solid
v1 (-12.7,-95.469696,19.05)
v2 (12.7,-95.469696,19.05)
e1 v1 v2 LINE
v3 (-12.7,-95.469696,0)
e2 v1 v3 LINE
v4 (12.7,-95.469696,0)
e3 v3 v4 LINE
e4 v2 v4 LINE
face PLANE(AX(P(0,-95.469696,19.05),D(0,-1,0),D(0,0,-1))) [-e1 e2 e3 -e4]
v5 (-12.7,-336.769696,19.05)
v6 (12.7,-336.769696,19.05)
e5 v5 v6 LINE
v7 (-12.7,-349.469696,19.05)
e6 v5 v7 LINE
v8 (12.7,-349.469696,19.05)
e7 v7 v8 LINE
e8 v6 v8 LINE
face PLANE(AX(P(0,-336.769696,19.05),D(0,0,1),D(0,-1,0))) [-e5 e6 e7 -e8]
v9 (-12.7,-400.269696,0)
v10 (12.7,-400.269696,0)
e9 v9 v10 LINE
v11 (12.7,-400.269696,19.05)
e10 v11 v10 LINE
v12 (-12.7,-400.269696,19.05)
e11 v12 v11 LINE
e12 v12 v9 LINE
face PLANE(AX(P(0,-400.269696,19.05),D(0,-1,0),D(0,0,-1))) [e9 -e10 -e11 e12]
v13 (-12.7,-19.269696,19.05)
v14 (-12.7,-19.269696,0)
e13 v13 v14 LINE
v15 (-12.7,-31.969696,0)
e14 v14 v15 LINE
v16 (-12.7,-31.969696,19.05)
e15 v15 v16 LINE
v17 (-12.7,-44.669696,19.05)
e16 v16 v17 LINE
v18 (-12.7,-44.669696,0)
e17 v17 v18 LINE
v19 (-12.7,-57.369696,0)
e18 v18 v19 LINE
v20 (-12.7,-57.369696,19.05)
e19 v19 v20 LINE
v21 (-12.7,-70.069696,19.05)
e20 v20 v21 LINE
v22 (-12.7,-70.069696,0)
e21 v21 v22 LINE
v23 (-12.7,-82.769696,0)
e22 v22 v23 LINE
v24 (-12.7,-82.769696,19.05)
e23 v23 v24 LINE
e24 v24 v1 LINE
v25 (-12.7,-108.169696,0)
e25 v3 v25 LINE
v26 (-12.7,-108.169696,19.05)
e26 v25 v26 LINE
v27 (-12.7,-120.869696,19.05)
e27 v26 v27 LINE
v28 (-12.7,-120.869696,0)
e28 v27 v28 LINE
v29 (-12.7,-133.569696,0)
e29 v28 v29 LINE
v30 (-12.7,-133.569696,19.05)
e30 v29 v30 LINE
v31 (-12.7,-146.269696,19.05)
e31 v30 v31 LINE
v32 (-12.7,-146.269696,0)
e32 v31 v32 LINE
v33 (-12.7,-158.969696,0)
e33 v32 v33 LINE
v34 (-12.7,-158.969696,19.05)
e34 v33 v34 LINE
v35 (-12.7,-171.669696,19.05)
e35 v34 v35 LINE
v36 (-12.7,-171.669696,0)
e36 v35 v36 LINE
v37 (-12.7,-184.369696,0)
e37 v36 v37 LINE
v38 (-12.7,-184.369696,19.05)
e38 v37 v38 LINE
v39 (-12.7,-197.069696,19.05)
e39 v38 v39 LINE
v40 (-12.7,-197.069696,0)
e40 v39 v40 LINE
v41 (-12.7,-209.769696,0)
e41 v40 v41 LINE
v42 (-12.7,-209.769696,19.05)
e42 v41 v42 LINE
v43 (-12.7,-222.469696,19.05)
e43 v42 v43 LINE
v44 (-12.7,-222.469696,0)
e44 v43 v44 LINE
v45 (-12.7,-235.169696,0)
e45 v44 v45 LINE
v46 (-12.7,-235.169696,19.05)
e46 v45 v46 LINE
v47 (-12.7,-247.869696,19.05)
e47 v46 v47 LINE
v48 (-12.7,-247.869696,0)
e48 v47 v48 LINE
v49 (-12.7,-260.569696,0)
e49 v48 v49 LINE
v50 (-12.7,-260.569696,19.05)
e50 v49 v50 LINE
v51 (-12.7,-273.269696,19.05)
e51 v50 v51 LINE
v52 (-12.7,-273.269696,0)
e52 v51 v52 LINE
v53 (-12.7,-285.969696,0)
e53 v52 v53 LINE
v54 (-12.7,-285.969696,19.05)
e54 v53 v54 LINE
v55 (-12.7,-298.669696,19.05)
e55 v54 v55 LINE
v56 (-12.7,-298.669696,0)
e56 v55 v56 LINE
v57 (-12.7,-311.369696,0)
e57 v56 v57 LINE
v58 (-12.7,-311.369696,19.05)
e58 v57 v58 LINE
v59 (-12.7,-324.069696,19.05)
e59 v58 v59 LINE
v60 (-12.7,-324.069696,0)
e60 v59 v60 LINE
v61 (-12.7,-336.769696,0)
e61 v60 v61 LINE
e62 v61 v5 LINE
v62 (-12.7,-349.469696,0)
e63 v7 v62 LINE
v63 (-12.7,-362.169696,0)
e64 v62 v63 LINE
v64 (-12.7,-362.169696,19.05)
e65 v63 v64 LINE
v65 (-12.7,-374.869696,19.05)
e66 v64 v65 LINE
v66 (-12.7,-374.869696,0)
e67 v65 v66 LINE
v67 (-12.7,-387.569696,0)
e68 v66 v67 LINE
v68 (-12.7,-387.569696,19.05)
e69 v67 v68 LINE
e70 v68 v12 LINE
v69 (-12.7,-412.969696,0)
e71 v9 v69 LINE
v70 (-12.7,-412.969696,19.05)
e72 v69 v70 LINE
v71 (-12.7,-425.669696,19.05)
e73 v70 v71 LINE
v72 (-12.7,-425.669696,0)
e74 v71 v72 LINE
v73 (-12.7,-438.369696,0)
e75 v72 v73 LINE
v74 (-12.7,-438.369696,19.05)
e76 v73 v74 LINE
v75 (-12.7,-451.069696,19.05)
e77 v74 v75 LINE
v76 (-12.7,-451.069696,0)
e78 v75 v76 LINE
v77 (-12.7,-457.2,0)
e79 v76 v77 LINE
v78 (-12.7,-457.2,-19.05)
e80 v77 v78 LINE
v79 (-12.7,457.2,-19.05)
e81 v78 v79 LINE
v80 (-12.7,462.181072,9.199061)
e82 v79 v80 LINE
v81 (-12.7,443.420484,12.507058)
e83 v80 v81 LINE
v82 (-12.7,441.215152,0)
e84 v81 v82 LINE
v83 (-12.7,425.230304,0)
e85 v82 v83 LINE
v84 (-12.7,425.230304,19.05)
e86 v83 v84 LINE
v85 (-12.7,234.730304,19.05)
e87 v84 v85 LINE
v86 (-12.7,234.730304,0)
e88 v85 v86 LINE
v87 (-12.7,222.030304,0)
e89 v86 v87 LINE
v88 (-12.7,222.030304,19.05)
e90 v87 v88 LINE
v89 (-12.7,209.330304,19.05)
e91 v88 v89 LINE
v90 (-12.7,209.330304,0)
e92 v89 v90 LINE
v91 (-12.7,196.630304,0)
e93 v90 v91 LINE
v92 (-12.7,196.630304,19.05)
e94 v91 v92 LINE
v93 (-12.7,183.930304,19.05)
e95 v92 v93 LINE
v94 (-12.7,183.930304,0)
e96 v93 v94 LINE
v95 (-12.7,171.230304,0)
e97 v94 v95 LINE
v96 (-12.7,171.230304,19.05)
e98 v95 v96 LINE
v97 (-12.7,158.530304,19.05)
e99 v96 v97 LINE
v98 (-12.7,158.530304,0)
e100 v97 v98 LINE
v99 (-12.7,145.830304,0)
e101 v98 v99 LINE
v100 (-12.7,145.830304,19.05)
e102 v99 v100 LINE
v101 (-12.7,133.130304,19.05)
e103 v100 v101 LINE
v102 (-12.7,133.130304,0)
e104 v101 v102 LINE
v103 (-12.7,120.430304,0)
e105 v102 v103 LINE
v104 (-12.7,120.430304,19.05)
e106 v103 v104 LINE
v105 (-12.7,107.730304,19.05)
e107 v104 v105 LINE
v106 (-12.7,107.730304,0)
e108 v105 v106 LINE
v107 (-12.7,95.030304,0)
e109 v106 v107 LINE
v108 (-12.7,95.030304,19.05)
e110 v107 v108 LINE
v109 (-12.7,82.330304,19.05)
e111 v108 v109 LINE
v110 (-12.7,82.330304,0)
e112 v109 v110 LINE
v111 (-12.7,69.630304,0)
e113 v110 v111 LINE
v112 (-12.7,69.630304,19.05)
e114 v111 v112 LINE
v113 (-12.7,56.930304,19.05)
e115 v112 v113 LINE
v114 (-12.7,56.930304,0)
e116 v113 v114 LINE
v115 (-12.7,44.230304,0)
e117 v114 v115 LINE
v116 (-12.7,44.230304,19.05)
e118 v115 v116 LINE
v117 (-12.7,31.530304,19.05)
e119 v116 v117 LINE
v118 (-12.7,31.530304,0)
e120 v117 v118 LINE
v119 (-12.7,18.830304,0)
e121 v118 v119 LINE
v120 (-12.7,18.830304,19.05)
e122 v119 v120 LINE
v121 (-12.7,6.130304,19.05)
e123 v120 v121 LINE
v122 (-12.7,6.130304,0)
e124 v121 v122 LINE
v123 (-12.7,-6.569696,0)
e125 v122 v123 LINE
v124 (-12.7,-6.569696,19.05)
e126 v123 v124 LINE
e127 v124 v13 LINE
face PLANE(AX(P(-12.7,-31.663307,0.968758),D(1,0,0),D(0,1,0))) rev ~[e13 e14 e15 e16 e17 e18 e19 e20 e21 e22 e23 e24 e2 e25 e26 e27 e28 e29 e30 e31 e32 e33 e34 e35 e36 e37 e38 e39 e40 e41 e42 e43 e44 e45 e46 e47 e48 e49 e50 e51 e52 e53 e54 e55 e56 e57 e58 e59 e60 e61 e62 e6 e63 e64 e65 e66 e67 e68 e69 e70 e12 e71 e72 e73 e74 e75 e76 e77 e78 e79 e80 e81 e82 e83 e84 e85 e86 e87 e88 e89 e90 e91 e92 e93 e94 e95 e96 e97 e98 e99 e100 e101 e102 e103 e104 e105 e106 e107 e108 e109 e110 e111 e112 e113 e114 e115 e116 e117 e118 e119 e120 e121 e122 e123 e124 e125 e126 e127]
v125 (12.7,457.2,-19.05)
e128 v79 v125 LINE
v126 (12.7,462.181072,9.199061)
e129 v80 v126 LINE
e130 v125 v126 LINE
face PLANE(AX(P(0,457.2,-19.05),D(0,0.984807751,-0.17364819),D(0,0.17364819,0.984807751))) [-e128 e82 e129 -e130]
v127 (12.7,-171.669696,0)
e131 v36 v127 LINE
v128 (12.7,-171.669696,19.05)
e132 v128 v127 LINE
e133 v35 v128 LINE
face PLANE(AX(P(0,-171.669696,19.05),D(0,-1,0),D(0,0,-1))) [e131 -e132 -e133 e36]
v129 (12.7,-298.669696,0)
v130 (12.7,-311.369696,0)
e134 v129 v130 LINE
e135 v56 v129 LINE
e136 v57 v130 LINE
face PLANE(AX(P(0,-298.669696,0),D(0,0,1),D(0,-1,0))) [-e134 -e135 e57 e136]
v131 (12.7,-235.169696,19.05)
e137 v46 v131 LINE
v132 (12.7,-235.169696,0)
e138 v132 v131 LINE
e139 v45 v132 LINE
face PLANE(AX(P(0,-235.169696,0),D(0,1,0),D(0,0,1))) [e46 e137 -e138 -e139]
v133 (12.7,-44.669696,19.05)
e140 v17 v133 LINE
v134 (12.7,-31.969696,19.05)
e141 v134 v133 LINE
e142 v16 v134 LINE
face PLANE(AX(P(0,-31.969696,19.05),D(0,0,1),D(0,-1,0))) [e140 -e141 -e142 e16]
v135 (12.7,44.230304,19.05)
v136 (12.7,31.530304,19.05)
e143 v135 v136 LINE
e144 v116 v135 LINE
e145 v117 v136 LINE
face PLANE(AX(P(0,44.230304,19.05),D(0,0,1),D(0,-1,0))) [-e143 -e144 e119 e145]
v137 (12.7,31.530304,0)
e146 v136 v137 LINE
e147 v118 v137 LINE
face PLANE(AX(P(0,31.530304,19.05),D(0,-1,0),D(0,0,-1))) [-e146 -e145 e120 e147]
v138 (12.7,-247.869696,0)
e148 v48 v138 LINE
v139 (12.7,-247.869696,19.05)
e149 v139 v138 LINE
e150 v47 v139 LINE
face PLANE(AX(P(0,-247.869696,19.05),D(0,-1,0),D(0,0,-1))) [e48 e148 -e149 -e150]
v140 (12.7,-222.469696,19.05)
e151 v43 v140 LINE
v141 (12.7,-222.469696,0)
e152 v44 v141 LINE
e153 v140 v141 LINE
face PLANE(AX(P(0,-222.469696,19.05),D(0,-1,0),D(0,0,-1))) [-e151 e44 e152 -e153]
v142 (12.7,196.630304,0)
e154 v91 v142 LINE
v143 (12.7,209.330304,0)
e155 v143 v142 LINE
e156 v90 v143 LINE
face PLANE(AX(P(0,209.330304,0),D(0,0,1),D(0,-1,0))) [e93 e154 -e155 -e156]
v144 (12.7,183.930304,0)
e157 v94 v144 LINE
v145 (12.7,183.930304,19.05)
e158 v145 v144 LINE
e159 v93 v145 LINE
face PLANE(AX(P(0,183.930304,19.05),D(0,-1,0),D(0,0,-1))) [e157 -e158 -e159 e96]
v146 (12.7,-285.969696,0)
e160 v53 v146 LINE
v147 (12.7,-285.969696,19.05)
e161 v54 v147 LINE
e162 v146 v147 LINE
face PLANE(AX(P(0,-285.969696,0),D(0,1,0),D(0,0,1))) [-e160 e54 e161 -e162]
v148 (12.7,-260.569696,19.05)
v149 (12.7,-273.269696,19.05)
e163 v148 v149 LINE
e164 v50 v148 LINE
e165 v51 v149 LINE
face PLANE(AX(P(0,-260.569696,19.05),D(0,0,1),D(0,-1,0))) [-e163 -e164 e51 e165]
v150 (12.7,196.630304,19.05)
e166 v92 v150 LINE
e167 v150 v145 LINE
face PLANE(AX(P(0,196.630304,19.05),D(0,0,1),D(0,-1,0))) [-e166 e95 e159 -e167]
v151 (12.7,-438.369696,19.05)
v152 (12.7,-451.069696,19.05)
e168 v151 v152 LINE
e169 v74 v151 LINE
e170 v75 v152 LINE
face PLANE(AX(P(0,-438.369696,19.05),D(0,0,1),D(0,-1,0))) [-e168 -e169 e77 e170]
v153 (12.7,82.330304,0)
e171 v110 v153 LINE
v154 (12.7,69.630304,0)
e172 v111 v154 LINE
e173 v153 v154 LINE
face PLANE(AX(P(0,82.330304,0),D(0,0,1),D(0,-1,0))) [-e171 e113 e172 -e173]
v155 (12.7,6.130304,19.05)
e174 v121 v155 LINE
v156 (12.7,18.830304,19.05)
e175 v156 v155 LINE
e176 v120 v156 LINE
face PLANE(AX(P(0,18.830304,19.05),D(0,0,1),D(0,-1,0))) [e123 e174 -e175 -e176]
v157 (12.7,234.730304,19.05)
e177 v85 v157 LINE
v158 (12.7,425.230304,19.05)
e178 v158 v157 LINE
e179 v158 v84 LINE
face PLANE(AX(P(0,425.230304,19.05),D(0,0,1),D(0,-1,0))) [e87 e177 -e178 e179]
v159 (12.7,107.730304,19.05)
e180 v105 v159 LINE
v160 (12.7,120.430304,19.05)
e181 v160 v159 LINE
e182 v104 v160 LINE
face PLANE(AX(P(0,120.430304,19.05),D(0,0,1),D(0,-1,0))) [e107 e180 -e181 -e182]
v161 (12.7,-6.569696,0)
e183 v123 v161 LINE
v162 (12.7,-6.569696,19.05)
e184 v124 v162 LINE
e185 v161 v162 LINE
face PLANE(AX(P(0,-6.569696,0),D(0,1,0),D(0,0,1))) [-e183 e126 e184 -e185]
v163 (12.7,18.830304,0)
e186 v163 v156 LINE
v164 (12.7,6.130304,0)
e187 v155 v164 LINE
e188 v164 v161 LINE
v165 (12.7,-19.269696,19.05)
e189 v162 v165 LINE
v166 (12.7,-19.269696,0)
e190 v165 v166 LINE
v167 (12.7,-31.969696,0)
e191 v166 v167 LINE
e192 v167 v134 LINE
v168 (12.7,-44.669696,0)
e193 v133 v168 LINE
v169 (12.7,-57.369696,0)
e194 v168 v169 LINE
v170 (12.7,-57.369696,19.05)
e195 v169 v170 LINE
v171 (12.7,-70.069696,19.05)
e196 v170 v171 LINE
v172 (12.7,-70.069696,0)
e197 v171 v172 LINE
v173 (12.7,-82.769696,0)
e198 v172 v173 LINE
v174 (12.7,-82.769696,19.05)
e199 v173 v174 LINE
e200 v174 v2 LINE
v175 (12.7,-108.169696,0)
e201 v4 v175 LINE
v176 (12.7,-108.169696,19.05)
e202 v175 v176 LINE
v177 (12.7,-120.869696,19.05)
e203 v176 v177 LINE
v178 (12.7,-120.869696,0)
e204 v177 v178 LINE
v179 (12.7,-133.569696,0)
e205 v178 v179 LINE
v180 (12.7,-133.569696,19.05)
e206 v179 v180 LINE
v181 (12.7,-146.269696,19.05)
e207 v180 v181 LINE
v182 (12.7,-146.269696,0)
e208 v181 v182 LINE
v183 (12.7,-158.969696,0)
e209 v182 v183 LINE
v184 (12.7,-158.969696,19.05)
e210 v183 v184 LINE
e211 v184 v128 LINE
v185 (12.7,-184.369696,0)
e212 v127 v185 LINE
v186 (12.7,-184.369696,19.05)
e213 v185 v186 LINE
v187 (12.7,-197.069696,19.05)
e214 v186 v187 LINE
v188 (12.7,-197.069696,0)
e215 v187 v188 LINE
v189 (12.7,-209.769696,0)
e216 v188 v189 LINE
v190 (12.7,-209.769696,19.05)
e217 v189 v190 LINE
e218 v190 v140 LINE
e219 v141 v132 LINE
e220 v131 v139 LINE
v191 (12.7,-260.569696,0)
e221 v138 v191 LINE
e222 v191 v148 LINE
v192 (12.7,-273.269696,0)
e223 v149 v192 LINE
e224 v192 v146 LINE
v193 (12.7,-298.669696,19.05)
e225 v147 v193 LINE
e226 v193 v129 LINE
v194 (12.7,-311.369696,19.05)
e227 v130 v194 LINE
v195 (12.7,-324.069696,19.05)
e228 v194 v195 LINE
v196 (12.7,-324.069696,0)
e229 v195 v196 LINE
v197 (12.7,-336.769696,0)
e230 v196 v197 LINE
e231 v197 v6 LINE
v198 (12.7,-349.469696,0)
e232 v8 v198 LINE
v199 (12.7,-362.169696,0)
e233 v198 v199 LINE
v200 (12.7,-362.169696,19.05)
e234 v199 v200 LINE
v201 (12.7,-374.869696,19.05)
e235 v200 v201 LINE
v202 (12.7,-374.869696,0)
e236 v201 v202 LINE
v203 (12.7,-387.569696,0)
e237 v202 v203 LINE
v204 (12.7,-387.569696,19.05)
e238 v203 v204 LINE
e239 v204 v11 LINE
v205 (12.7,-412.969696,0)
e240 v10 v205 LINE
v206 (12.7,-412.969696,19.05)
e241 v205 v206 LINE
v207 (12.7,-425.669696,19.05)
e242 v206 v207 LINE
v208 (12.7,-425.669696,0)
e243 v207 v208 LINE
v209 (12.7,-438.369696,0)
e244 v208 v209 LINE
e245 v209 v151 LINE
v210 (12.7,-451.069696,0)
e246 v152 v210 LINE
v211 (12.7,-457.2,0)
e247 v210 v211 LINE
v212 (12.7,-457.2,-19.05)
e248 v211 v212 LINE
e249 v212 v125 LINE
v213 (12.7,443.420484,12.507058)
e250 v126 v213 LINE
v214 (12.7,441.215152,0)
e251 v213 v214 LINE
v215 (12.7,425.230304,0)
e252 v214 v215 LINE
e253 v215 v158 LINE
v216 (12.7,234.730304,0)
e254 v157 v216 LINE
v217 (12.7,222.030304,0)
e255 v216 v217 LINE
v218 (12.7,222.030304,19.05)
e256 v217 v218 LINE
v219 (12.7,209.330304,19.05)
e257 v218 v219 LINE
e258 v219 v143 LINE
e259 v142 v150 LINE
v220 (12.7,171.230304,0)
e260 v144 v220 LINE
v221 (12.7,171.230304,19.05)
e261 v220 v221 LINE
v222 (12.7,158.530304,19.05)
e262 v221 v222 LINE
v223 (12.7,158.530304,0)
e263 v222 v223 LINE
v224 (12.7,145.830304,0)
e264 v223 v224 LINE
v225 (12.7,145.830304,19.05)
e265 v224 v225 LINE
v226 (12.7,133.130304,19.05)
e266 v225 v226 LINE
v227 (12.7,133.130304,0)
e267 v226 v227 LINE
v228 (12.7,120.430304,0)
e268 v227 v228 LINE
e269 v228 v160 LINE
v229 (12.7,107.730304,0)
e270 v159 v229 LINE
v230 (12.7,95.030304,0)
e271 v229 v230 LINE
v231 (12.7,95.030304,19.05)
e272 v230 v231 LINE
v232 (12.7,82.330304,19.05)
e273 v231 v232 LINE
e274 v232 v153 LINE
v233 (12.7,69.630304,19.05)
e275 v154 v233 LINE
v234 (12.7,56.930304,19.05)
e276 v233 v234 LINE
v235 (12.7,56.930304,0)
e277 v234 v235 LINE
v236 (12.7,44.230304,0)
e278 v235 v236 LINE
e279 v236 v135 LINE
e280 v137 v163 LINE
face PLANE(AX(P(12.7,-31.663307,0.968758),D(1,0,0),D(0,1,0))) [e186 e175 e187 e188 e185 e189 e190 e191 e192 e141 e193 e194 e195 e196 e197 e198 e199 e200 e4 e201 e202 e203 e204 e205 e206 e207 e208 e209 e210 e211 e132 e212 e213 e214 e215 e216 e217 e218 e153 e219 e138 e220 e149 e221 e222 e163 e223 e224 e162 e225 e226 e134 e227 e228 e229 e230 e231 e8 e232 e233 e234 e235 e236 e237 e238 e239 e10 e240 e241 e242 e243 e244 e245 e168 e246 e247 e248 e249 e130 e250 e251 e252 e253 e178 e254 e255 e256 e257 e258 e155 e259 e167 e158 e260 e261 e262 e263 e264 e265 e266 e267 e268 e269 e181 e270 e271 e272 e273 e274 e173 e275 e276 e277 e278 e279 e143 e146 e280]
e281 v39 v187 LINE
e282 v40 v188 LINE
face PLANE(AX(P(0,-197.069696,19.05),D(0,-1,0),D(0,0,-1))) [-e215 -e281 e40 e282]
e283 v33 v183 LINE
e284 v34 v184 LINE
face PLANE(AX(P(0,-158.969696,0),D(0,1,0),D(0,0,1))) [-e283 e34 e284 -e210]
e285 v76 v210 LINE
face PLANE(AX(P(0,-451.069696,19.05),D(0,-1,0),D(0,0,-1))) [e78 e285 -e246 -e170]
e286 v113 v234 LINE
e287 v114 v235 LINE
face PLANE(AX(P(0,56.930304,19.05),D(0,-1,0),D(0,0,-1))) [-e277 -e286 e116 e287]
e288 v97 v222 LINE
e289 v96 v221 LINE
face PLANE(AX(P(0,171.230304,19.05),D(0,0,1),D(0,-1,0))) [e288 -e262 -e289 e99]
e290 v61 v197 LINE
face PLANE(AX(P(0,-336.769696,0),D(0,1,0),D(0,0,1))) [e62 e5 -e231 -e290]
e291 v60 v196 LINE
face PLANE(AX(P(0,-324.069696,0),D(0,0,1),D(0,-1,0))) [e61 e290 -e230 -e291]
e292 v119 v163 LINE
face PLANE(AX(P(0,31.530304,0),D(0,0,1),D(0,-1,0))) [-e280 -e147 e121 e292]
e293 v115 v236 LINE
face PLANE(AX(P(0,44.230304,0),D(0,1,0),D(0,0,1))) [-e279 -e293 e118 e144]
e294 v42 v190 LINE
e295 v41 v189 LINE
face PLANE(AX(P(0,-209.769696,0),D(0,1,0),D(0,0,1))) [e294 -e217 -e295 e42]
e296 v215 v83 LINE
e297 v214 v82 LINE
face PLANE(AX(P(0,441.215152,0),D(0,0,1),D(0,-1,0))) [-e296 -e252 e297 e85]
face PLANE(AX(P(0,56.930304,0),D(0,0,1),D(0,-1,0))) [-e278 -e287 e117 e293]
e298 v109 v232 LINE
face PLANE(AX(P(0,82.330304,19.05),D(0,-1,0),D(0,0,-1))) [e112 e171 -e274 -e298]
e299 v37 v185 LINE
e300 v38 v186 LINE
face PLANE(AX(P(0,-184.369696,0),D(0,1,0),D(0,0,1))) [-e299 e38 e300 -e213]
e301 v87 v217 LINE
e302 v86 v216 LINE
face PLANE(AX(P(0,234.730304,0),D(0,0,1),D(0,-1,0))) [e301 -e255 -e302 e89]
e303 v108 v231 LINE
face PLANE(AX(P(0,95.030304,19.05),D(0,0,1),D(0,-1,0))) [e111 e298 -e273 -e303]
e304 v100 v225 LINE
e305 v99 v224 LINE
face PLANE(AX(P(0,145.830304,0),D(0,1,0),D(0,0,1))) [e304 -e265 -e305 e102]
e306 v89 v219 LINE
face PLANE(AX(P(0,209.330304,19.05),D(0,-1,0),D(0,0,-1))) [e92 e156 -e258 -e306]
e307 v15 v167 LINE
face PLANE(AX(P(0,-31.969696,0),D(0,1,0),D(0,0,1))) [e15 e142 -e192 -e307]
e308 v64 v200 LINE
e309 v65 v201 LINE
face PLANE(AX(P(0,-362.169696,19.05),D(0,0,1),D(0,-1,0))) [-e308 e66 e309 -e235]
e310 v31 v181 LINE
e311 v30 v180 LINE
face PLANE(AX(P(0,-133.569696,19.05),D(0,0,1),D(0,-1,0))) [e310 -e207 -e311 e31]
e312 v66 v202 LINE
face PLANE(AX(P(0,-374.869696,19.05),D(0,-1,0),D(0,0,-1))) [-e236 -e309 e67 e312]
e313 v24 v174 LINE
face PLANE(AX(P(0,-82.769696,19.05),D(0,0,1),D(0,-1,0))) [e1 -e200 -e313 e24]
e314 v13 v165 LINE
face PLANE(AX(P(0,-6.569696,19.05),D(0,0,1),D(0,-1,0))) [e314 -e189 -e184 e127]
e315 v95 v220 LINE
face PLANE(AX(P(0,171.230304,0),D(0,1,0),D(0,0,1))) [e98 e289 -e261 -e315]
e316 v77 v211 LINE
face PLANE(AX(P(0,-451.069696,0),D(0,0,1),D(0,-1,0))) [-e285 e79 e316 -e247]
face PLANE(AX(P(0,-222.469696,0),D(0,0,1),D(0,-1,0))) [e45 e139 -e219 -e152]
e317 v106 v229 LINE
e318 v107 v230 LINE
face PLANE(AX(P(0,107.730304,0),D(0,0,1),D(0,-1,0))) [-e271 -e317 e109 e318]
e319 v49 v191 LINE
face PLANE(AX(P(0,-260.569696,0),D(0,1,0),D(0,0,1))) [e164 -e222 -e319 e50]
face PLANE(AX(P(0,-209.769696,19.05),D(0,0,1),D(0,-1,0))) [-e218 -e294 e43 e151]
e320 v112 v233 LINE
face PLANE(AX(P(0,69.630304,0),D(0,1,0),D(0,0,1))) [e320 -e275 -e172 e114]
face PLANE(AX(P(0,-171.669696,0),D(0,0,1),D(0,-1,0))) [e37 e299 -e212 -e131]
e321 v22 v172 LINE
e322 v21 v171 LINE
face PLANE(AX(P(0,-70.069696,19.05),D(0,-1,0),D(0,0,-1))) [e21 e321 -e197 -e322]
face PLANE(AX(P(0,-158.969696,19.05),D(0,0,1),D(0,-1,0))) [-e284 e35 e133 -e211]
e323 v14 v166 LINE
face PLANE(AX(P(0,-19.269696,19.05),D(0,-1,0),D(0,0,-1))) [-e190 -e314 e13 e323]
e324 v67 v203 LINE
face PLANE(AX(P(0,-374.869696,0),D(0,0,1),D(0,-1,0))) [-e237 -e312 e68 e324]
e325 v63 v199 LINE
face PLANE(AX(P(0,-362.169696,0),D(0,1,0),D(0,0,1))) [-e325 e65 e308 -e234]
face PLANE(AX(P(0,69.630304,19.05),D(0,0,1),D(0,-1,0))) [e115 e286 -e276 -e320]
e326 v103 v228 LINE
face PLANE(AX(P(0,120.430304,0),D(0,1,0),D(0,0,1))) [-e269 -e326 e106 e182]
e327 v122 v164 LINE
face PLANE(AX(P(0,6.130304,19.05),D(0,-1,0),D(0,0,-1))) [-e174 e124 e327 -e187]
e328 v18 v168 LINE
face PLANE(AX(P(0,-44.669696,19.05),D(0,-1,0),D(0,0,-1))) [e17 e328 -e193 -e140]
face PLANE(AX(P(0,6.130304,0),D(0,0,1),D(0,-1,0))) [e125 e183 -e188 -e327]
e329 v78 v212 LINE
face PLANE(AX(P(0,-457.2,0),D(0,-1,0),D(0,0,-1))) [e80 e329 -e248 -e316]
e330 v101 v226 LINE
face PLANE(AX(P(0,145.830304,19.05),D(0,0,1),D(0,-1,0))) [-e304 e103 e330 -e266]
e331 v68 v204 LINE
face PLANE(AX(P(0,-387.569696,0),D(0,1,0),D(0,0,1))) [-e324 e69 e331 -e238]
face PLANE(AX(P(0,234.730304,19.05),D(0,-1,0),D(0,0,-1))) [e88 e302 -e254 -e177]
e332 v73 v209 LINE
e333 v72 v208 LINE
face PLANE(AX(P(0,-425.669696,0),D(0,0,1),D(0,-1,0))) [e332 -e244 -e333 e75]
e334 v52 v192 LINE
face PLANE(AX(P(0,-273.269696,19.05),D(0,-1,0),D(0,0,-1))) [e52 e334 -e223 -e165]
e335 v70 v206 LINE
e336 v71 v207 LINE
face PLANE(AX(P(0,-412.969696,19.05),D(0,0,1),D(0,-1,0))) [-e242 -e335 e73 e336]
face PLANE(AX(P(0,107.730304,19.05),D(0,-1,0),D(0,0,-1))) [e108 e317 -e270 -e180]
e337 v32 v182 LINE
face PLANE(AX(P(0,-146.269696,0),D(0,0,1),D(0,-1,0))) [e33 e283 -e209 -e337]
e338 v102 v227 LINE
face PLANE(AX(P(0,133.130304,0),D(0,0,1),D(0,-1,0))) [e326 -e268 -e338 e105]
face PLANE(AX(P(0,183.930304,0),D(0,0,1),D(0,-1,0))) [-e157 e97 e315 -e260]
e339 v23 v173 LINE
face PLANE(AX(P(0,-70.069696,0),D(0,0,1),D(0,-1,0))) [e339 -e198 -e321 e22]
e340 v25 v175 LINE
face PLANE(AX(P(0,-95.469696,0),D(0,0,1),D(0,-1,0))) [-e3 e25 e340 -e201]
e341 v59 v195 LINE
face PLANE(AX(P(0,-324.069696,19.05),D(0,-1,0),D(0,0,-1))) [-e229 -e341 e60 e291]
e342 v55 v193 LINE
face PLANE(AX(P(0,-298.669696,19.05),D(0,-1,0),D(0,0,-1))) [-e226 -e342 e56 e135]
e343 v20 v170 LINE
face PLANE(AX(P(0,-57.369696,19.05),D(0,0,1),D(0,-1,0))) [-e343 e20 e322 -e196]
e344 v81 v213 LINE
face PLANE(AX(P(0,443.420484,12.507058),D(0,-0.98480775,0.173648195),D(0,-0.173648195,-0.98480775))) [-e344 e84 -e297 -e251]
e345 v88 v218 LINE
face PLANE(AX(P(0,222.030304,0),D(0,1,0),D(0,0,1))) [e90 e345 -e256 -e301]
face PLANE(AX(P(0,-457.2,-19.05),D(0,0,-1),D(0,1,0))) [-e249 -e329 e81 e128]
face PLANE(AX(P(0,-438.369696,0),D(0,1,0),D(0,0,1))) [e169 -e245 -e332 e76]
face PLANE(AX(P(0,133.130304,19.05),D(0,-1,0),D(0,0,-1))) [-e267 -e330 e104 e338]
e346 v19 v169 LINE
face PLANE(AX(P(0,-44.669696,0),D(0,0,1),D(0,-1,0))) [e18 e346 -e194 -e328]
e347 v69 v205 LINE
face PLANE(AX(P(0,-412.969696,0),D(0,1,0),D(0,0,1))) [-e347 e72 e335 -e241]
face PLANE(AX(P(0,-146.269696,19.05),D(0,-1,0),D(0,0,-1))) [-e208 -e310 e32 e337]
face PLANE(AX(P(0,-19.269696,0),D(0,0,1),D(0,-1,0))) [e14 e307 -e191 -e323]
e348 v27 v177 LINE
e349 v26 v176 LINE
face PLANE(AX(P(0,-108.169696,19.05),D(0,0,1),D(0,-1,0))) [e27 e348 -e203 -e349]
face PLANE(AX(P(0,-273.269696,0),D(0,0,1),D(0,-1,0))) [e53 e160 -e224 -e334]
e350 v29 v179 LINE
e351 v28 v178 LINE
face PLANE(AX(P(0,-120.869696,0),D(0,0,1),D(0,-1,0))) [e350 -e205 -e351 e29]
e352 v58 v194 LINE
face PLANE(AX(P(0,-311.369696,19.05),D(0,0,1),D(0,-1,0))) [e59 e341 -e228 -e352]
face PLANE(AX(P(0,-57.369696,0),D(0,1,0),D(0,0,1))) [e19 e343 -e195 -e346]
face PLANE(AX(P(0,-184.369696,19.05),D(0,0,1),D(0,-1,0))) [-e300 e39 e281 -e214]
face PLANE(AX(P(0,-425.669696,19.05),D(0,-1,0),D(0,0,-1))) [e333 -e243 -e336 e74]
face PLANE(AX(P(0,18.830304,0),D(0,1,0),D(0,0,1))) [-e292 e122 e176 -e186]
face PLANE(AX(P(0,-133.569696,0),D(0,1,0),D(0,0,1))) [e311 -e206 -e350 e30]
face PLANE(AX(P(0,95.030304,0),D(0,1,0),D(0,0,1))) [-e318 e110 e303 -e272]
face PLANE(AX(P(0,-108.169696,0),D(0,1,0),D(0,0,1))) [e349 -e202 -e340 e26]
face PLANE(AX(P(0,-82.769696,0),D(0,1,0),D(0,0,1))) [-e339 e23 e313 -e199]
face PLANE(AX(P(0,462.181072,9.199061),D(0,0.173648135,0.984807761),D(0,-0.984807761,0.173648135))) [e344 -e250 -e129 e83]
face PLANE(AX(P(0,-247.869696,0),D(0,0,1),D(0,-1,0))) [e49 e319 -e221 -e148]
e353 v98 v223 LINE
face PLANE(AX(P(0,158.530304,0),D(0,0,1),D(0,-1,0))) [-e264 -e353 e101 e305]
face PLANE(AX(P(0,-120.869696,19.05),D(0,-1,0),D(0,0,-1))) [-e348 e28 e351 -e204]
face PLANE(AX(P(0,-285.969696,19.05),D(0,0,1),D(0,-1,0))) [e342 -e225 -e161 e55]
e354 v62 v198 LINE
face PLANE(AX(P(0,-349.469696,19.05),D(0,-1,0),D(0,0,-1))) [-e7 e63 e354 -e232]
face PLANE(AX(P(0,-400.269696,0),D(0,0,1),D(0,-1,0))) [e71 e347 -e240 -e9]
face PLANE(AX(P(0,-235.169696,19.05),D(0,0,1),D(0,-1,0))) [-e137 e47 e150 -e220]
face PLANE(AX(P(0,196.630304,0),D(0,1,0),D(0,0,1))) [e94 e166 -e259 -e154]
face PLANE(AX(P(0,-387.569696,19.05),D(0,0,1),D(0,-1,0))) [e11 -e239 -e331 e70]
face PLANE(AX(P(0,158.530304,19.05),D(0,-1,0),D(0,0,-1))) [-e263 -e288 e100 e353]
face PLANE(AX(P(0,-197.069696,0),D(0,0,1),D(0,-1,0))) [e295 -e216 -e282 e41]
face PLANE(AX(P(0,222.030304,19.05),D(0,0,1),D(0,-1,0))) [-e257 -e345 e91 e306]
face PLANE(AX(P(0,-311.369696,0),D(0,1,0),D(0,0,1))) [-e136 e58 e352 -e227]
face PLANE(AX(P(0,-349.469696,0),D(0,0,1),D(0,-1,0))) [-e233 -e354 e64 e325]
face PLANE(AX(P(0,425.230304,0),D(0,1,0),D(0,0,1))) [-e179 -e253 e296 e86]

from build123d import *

# Parameters (mm, degrees)
F1_DEPTH = 12.7


with BuildPart() as f1:
    # F0 (on Right) → F1 (new body, symmetric)
    with BuildSketch(Plane.YZ):
        Polygon((425.230304, 6.35), (425.230304, 19.05), (234.730304, 19.05), (234.730304, 0), (222.030304, 0), (222.030304, 19.05), (209.330304, 19.05), (209.330304, 0), (196.630304, 0), (196.630304, 19.05), (183.930304, 19.05), (183.930304, 0), (171.230304, 0), (171.230304, 19.05), (158.530304, 19.05), (158.530304, 0), (145.830304, 0), (145.830304, 19.05), (133.130304, 19.05), (133.130304, 0), (120.430304, 0), (120.430304, 19.05), (107.730304, 19.05), (107.730304, 0), (95.030304, 0), (95.030304, 19.05), (82.330304, 19.05), (82.330304, 0), (69.630304, 0), (69.630304, 19.05), (56.930304, 19.05), (56.930304, 0), (44.230304, 0), (44.230304, 19.05), (31.530304, 19.05), (31.530304, 0), (18.830304, 0), (18.830304, 19.05), (6.130304, 19.05), (6.130304, 0), (-6.569696, 0), (-6.569696, 19.05), (-19.269696, 19.05), (-19.269696, 0), (-31.969696, 0), (-31.969696, 19.05), (-44.669696, 19.05), (-44.669696, 0), (-57.369696, 0), (-57.369696, 19.05), (-70.069696, 19.05), (-70.069696, 0), (-82.769696, 0), (-82.769696, 19.05), (-95.469696, 19.05), (-95.469696, 0), (-108.169696, 0), (-108.169696, 19.05), (-120.869696, 19.05), (-120.869696, 0), (-133.569696, 0), (-133.569696, 19.05), (-146.269696, 19.05), (-146.269696, 0), (-158.969696, 0), (-158.969696, 19.05), (-171.669696, 19.05), (-171.669696, 0), (-184.369696, 0), (-184.369696, 19.05), (-197.069696, 19.05), (-197.069696, 0), (-209.769696, 0), (-209.769696, 19.05), (-222.469696, 19.05), (-222.469696, 0), (-235.169696, 0), (-235.169696, 19.05), (-247.869696, 19.05), (-247.869696, 0), (-260.569696, 0), (-260.569696, 19.05), (-273.269696, 19.05), (-273.269696, 0), (-285.969696, 0), (-285.969696, 19.05), (-298.669696, 19.05), (-298.669696, 0), (-311.369696, 0), (-311.369696, 19.05), (-324.069696, 19.05), (-324.069696, 0), (-336.769696, 0), (-336.769696, 19.05), (-349.469696, 19.05), (-349.469696, 0), (-362.169696, 0), (-362.169696, 19.05), (-374.869696, 19.05), (-374.869696, 0), (-387.569696, 0), (-387.569696, 19.05), (-400.269696, 19.05), (-400.269696, 0), (-412.969696, 0), (-412.969696, 19.05), (-425.669696, 19.05), (-425.669696, 0), (-438.369696, 0), (-438.369696, 19.05), (-451.069696, 19.05), (-451.069696, 0), (-457.2, 0), (-457.2, -19.05), (457.2, -19.05), (462.181072, 9.199061), (443.420484, 12.507058), (441.215152, 0), (425.230304, 0), align=None)
    extrude(amount=F1_DEPTH, both=True)


solid = f1.part
